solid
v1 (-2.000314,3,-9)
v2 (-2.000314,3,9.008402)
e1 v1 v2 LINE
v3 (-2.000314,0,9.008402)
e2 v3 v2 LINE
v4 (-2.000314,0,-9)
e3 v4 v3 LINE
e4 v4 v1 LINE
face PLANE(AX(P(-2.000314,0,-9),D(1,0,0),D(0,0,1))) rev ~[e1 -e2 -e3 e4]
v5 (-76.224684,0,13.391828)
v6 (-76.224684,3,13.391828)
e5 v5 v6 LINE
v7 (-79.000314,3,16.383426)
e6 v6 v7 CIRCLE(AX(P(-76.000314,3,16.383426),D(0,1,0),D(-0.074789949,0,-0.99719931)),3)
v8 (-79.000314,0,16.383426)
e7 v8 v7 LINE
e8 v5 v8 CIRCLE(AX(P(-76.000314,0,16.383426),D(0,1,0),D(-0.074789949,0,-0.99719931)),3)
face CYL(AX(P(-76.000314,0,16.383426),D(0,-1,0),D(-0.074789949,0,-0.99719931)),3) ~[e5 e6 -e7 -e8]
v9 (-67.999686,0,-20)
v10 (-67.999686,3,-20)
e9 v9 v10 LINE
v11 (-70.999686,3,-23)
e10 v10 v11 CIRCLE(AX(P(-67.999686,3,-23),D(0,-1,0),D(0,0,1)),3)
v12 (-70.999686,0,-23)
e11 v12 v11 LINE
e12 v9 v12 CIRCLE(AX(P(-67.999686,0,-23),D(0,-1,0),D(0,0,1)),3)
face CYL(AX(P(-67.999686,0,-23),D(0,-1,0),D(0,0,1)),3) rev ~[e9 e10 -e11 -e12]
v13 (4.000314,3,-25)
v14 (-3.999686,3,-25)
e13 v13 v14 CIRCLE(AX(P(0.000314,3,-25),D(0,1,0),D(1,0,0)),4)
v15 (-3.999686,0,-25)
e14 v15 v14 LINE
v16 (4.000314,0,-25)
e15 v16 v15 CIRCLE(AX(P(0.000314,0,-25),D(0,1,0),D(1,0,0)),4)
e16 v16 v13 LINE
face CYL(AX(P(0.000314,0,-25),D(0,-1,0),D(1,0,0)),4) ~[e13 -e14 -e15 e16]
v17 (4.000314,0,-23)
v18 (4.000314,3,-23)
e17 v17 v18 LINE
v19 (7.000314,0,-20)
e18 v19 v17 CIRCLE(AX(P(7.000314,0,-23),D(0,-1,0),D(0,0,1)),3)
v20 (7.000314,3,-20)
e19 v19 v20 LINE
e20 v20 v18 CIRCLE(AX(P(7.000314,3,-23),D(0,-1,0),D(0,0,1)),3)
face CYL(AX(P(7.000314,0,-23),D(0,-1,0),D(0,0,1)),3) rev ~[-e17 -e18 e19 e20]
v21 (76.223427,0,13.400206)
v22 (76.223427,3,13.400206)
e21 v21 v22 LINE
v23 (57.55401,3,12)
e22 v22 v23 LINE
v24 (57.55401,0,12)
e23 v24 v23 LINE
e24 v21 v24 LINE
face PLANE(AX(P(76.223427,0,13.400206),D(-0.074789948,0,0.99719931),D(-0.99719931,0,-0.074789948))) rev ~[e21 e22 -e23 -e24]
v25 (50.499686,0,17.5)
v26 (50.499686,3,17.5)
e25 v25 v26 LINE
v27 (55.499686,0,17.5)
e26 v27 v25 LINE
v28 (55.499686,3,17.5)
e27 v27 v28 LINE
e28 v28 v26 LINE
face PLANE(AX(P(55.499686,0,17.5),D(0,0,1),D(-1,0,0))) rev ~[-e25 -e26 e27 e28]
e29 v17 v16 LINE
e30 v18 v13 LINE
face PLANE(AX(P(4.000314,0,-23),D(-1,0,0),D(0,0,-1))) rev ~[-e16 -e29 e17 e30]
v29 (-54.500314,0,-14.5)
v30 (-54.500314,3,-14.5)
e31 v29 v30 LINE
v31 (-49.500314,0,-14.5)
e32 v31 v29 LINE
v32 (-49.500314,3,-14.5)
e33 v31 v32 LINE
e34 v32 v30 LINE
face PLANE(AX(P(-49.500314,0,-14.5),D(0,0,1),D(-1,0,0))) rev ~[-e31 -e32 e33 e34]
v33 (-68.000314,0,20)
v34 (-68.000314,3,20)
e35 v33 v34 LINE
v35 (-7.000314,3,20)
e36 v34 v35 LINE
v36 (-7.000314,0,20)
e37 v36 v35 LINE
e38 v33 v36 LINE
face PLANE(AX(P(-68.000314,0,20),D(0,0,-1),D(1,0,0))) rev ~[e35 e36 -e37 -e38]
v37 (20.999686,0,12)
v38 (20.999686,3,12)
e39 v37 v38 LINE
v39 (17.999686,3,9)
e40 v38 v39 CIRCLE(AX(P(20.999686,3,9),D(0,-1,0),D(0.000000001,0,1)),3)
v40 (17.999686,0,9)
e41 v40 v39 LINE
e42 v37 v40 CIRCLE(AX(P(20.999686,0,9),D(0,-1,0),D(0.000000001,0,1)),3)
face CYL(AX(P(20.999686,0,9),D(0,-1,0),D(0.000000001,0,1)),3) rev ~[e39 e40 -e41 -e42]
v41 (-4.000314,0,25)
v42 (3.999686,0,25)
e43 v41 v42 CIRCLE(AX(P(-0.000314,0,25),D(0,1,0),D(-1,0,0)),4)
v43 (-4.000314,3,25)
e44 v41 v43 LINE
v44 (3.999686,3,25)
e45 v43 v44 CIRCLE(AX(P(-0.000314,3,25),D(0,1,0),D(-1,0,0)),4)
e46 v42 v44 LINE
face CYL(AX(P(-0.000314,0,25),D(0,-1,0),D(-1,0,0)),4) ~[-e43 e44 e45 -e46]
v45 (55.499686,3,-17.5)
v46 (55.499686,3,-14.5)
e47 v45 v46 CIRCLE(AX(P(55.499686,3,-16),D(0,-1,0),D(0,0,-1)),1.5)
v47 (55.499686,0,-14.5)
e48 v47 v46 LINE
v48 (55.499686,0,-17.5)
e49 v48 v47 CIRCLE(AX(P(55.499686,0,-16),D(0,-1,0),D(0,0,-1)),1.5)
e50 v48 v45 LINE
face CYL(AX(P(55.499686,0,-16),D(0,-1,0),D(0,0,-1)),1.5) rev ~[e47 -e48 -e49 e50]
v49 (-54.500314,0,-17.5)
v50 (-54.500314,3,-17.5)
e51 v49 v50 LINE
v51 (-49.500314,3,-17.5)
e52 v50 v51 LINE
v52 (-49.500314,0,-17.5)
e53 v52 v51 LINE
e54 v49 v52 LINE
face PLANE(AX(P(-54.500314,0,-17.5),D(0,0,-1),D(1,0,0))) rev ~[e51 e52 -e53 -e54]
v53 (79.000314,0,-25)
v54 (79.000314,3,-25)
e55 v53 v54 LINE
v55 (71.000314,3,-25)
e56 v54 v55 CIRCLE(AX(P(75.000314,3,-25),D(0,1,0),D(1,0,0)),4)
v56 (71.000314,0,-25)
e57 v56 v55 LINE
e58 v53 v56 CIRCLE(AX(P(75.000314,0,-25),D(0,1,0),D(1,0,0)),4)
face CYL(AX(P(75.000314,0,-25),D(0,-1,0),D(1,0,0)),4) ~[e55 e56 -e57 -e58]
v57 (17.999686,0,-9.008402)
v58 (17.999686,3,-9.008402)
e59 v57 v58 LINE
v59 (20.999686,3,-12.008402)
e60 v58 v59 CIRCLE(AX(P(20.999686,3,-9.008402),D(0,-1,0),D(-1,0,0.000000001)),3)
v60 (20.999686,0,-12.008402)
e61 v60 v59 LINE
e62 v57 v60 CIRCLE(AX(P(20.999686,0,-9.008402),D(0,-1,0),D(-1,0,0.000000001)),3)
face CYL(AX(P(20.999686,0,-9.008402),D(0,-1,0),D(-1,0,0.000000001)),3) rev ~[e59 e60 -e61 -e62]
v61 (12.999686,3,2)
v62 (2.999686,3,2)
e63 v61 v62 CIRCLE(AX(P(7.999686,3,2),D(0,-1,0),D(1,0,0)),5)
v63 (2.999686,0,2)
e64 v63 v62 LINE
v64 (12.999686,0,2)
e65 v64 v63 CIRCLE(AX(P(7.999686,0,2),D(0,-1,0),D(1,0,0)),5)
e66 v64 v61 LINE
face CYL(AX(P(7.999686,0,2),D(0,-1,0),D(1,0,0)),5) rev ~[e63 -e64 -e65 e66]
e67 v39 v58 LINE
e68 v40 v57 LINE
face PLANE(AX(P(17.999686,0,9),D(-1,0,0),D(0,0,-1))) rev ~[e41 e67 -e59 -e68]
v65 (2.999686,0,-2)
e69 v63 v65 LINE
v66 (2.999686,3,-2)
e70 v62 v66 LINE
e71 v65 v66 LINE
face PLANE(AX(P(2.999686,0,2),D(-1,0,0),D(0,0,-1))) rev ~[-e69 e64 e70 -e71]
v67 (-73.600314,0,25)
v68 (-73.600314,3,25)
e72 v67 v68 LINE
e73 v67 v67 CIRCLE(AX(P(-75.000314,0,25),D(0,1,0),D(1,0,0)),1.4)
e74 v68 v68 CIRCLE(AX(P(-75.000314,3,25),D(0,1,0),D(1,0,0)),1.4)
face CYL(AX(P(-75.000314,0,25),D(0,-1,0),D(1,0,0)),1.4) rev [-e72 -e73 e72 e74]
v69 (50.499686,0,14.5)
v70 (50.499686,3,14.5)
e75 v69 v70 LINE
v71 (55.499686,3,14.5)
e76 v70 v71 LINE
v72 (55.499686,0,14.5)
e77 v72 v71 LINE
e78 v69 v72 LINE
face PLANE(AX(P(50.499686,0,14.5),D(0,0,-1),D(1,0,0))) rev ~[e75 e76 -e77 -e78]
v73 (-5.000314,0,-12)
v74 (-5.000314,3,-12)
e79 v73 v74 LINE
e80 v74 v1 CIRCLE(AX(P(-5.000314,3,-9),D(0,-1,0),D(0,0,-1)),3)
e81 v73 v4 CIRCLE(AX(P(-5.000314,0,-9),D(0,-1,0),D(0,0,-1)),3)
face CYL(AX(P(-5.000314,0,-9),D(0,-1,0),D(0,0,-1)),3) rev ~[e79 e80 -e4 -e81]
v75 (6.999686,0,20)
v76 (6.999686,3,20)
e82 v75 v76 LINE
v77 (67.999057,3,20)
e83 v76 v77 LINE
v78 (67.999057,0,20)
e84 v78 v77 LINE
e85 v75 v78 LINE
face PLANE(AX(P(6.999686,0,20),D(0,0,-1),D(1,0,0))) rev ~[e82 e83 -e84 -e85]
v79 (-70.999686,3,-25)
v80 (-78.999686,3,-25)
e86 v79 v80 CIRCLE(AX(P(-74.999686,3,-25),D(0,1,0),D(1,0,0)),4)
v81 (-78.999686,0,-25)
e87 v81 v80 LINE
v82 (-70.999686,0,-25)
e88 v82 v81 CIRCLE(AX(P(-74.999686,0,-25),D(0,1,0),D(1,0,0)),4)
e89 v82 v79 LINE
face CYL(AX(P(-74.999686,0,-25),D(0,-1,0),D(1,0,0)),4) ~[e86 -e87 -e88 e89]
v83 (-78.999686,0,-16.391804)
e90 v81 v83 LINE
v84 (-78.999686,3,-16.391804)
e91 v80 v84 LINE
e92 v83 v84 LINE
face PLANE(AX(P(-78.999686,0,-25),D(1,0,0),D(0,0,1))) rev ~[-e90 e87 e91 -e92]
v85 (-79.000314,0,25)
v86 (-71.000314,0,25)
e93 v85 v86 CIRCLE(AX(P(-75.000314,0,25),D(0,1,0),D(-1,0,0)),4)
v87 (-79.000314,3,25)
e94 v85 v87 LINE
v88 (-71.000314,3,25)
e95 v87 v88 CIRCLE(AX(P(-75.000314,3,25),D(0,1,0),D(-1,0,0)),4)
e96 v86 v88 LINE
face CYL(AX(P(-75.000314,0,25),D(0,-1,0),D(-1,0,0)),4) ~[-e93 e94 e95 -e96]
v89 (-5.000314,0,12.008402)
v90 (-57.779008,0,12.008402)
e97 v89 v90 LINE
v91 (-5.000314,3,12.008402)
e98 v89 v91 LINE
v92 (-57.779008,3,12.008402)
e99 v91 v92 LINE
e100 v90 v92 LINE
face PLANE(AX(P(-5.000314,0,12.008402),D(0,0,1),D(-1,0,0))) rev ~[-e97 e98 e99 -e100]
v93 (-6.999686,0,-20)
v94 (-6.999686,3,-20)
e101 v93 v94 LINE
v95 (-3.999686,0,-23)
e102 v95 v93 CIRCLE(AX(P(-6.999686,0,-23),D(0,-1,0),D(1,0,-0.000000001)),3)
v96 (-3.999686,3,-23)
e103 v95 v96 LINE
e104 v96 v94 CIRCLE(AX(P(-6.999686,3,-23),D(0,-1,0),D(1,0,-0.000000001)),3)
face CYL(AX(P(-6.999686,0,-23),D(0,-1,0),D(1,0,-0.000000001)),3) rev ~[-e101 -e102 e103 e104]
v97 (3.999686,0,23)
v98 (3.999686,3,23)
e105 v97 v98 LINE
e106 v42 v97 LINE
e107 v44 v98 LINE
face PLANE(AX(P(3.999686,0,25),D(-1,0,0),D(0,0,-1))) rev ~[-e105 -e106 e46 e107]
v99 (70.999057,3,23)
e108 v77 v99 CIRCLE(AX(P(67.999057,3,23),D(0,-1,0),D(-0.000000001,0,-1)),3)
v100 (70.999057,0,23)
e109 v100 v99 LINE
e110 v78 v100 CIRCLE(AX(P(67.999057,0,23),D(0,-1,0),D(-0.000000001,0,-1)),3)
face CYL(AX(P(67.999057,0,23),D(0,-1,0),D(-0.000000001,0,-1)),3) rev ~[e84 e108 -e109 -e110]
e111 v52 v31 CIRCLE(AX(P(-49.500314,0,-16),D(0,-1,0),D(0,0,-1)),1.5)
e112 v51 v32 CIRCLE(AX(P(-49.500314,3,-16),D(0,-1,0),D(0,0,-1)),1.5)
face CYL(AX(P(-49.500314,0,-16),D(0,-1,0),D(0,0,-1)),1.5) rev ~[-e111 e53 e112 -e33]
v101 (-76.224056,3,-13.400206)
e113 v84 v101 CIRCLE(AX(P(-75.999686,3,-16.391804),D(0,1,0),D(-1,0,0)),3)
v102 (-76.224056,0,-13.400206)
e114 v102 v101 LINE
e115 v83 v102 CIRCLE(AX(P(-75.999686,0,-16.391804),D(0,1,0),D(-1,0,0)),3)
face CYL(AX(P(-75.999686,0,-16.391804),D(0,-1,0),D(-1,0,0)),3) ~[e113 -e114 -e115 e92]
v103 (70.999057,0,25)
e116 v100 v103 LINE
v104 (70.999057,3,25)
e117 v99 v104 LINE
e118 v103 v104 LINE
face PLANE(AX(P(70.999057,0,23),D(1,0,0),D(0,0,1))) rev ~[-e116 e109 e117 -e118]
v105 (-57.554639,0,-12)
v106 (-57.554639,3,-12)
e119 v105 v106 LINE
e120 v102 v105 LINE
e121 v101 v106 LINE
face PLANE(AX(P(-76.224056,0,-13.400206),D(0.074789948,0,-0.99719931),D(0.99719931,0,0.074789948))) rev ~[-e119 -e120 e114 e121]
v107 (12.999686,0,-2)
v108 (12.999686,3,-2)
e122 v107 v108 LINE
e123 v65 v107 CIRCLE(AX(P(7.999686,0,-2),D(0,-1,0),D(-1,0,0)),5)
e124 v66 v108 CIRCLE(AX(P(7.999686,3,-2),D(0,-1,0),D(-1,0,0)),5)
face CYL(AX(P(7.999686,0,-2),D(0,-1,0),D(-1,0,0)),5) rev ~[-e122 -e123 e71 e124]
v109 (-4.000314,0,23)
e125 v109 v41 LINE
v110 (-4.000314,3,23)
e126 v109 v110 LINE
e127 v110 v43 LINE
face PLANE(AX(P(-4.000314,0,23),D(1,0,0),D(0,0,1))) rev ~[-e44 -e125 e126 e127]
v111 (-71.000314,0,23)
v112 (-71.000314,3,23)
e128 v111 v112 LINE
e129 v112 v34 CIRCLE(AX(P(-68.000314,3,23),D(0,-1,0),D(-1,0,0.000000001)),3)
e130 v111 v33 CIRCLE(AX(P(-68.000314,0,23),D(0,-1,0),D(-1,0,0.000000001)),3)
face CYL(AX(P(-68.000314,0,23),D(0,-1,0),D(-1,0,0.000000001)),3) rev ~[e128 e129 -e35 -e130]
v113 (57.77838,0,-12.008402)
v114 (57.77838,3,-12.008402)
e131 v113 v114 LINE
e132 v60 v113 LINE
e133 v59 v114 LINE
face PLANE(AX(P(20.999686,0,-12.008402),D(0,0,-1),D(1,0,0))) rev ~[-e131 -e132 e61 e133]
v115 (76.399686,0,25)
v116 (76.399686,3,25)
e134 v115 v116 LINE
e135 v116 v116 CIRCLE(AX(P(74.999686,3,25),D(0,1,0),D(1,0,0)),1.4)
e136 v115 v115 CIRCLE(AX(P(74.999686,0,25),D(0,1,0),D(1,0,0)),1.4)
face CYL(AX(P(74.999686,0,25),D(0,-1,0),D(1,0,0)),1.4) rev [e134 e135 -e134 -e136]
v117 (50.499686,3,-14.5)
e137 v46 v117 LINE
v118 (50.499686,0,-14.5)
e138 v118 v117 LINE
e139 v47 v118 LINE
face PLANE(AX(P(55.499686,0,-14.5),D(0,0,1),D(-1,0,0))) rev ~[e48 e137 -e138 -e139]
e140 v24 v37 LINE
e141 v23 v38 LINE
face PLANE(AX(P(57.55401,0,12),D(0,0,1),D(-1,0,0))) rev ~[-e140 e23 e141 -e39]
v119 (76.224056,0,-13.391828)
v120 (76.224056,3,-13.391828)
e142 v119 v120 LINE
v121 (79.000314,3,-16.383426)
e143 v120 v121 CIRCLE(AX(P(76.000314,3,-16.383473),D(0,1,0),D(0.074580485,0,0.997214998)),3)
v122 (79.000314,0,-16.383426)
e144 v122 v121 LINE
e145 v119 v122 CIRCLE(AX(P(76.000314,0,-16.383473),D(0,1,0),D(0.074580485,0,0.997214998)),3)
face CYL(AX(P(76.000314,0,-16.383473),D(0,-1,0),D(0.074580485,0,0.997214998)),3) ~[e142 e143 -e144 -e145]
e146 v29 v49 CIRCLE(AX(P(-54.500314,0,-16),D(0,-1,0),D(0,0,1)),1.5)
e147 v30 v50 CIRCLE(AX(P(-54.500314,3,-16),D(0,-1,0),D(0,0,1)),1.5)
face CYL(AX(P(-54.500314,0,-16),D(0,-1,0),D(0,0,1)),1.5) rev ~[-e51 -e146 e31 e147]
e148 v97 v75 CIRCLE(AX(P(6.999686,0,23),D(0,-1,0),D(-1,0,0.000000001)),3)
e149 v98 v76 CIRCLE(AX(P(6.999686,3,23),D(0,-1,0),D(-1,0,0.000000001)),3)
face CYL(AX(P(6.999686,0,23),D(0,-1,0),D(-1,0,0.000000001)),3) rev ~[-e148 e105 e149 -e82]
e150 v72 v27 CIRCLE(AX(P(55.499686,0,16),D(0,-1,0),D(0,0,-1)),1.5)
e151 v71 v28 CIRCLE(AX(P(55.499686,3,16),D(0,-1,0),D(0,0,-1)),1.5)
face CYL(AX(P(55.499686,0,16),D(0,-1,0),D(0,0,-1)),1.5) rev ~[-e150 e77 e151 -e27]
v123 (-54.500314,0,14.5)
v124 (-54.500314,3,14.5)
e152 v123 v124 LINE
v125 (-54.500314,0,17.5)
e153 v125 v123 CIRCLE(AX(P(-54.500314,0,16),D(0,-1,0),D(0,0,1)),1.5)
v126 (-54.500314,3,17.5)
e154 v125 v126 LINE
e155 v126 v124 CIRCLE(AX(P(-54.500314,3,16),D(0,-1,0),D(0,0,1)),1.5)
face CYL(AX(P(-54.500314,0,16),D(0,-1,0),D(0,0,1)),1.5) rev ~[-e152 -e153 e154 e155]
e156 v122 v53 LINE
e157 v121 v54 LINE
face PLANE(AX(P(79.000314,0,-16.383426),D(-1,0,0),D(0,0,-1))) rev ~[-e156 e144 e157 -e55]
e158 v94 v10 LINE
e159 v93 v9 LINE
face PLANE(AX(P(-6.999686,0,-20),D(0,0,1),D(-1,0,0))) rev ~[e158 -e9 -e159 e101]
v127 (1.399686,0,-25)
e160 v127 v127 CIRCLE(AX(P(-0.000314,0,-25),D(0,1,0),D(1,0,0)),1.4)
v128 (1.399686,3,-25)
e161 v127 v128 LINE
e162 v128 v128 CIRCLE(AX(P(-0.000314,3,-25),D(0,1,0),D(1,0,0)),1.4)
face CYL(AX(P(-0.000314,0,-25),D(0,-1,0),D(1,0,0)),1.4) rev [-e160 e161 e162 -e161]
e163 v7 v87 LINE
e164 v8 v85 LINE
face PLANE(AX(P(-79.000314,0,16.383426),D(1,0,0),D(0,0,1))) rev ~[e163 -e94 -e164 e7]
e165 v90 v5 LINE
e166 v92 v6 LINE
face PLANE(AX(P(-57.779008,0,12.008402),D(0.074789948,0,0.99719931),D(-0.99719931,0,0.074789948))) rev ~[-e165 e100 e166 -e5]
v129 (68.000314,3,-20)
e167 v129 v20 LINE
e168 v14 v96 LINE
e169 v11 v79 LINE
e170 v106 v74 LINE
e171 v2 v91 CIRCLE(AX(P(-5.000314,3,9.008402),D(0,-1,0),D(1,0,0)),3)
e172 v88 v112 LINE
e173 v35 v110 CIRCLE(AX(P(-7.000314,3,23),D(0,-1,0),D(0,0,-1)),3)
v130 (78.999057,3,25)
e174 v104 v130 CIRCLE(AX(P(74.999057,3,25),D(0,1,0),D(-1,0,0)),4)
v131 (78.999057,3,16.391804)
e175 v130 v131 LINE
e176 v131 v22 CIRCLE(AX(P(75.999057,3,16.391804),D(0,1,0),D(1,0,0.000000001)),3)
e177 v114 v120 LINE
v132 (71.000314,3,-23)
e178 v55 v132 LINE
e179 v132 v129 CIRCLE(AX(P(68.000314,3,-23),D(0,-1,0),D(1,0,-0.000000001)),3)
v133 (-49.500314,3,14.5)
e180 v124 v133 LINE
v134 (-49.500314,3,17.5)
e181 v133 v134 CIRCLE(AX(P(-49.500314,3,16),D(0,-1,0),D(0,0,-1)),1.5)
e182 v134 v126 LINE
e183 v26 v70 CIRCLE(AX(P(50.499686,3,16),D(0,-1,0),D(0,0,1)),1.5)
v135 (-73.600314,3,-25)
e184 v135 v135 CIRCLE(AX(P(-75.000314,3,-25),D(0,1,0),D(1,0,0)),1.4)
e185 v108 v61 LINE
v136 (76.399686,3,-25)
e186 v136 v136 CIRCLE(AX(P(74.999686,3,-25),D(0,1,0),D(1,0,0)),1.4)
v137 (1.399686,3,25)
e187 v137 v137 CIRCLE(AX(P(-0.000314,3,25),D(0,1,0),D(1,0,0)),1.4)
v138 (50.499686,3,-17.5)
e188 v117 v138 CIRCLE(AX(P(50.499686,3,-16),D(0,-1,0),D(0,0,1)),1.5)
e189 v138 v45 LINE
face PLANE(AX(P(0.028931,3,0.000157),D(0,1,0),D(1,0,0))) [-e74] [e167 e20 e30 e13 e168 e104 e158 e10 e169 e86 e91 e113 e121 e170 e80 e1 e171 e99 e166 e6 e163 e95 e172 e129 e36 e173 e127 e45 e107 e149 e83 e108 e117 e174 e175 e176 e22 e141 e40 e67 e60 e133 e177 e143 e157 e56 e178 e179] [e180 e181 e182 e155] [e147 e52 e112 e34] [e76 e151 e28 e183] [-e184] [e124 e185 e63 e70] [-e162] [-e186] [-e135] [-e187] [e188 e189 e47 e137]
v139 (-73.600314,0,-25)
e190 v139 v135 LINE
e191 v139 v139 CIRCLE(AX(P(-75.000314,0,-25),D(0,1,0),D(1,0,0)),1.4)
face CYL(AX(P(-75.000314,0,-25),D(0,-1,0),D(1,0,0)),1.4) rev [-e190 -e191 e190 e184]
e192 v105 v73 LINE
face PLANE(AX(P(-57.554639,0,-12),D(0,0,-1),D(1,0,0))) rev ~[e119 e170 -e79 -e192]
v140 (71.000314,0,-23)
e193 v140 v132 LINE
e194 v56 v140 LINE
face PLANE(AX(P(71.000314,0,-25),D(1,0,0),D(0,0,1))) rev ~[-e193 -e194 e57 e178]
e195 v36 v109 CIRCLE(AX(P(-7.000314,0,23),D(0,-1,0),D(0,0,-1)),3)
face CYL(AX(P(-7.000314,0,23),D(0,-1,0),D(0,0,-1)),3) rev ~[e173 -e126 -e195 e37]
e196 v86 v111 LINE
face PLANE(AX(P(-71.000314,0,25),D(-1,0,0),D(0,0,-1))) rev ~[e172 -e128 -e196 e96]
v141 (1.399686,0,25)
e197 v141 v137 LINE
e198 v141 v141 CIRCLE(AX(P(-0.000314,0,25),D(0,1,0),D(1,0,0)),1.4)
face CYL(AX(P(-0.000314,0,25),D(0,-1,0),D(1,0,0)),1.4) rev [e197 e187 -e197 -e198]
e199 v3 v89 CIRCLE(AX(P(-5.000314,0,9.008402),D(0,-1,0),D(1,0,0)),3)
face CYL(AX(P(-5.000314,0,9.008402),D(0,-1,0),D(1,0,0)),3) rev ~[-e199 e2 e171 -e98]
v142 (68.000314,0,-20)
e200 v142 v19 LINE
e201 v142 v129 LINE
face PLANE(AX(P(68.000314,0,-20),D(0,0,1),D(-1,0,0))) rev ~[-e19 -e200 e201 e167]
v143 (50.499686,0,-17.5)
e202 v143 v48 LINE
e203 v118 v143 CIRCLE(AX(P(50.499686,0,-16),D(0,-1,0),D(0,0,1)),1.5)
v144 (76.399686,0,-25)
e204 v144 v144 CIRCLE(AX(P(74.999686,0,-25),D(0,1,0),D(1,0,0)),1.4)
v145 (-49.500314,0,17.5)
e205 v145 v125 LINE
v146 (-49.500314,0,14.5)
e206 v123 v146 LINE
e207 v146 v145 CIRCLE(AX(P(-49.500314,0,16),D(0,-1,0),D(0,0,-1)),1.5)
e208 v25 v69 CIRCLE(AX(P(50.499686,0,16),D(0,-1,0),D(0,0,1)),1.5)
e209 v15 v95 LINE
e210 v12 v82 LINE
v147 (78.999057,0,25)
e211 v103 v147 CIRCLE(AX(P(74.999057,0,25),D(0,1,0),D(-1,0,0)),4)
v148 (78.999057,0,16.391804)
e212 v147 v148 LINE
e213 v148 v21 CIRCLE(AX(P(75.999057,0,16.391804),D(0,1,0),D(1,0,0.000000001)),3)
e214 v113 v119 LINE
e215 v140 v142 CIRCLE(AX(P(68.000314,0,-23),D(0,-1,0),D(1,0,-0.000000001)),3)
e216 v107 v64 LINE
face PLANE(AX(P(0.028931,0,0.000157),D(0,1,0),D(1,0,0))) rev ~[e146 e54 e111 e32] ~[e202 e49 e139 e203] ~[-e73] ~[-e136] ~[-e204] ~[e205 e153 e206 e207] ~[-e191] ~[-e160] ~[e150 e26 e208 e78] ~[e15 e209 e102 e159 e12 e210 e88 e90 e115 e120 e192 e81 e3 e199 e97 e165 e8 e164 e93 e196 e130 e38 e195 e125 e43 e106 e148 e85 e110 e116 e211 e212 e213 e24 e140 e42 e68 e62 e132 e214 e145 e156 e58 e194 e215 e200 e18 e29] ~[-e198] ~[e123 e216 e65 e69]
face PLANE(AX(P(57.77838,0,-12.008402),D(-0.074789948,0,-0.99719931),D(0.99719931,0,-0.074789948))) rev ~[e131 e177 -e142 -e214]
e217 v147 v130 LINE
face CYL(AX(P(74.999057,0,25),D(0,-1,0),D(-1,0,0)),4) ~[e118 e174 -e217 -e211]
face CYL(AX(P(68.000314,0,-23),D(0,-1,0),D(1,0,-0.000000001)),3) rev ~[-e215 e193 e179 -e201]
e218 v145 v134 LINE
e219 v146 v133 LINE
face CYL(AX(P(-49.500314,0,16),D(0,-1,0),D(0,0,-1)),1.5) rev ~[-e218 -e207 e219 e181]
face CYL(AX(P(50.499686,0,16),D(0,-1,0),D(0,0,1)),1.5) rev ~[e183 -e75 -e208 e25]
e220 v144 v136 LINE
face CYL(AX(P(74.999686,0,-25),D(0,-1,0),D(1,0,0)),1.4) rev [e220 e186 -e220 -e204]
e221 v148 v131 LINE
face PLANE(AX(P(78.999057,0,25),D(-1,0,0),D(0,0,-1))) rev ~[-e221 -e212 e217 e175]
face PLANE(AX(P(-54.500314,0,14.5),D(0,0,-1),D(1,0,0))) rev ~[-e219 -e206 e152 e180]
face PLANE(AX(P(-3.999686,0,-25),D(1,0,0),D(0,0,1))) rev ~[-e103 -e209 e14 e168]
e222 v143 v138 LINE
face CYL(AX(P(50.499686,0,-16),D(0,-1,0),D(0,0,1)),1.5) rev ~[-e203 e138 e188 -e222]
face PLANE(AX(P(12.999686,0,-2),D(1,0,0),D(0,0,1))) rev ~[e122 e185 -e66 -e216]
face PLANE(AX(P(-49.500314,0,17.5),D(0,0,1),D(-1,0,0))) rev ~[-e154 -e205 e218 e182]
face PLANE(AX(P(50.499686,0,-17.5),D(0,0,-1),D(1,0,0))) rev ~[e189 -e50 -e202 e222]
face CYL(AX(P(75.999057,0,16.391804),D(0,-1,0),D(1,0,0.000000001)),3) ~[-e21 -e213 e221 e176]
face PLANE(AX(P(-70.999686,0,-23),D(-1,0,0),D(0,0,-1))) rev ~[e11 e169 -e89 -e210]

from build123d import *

# Parameters (mm, degrees)
SKETCH1_R           = 1.4
BOSS_EXTRUDE1_DEPTH = 3


with BuildPart() as part:
    # Sketch1 → Boss-Extrude1 (new body)
    with BuildSketch(Plane(origin=(0, 0, 0), x_dir=(1, 0, 0), z_dir=(0, 1, 0))):
        with BuildLine():
            Line((-76.22405565, 13.400206277), (-57.554638622, 12))
            Line((-57.554638622, 12), (-5.000314195, 12))
            ThreePointArc((-5.000314195, 12), (-2.878993852, 11.121320344), (-2.000314195, 9))
            Line((-2.000314195, 9), (-2.000314195, -9.00840207))
            ThreePointArc((-2.000314195, -9.00840207), (-2.878993852, -11.129722414), (-5.000314195, -12.00840207))
            Line((-5.000314195, -12.00840207), (-57.779008466, -12.00840207))
            Line((-57.779008466, -12.00840207), (-76.22468404, -13.391827738))
            ThreePointArc((-76.22468404, -13.391827738), (-78.199531048, -14.342973455), (-79.000314195, -16.383425668))
            Line((-79.000314195, -16.383425668), (-79.000314195, -25))
            ThreePointArc((-79.000314195, -25), (-75.000314195, -29), (-71.000314195, -25))
            Line((-71.000314195, -25), (-71.000314195, -23))
            ThreePointArc((-71.000314195, -23), (-70.121634539, -20.878679656), (-68.000314195, -20))
            Line((-68.000314195, -20), (-7.000314195, -20))
            ThreePointArc((-7.000314195, -20), (-4.878993852, -20.878679656), (-4.000314195, -23))
            Line((-4.000314195, -23), (-4.000314195, -25))
            ThreePointArc((-4.000314195, -25), (-0.000314195, -29), (3.999685805, -25))
            Line((3.999685805, -25), (3.999685805, -23))
            ThreePointArc((3.999685805, -23), (4.878365461, -20.878679656), (6.999685805, -20))
            Line((6.999685805, -20), (67.999057414, -20))
            ThreePointArc((67.999057414, -20), (70.120377758, -20.878679656), (70.999057414, -23))
            Line((70.999057414, -23), (70.999057414, -25))
            ThreePointArc((70.999057414, -25), (74.999057414, -29), (78.999057414, -25))
            Line((78.999057414, -25), (78.999057414, -16.391804207))
            ThreePointArc((78.999057414, -16.391804207), (78.198274268, -14.351351994), (76.223427259, -13.400206277))
            Line((76.223427259, -13.400206277), (57.554010231, -12))
            Line((57.554010231, -12), (20.999685805, -12))
            ThreePointArc((20.999685805, -12), (18.878365461, -11.121320344), (17.999685805, -9))
            Line((17.999685805, -9), (17.999685805, 9.00840207))
            ThreePointArc((17.999685805, 9.00840207), (18.878365461, 11.129722414), (20.999685805, 12.00840207))
            Line((20.999685805, 12.00840207), (57.778380076, 12.00840207))
            Line((57.778380076, 12.00840207), (76.22405565, 13.391827738))
            ThreePointArc((76.22405565, 13.391827738), (78.199300731, 14.342772308), (79.000314195, 16.383425668))
            Line((79.000314195, 16.383425668), (79.000314195, 25))
            ThreePointArc((79.000314195, 25), (75.000314195, 29), (71.000314195, 25))
            Line((71.000314195, 25), (71.000314195, 23))
            ThreePointArc((71.000314195, 23), (70.121634539, 20.878679656), (68.000314195, 20))
            Line((68.000314195, 20), (7.000314195, 20))
            ThreePointArc((7.000314195, 20), (4.878993852, 20.878679656), (4.000314195, 23))
            Line((4.000314195, 23), (4.000314195, 25))
            ThreePointArc((4.000314195, 25), (0.000314195, 29), (-3.999685805, 25))
            Line((-3.999685805, 25), (-3.999685805, 23))
            ThreePointArc((-3.999685805, 23), (-4.878365461, 20.878679656), (-6.999685805, 20))
            Line((-6.999685805, 20), (-67.999685805, 20))
            ThreePointArc((-67.999685805, 20), (-70.121006148, 20.878679656), (-70.999685805, 23))
            Line((-70.999685805, 23), (-70.999685805, 25))
            ThreePointArc((-70.999685805, 25), (-74.999685805, 29), (-78.999685805, 25))
            Line((-78.999685805, 25), (-78.999685805, 16.391804207))
            ThreePointArc((-78.999685805, 16.391804207), (-78.198902658, 14.351351994), (-76.22405565, 13.400206277))
        make_face()
        with Locations((74.999685805, 25)):
            Circle(SKETCH1_R, mode=Mode.SUBTRACT)
        with Locations((74.999685805, -25)):
            Circle(SKETCH1_R, mode=Mode.SUBTRACT)
        with Locations((-0.000314195, -25)):
            Circle(SKETCH1_R, mode=Mode.SUBTRACT)
        with Locations((-0.000314195, 25)):
            Circle(SKETCH1_R, mode=Mode.SUBTRACT)
        with Locations((-75.000314195, 25)):
            Circle(SKETCH1_R, mode=Mode.SUBTRACT)
        with Locations((-75.000314195, -25)):
            Circle(SKETCH1_R, mode=Mode.SUBTRACT)
        with BuildLine():
            Line((55.499685805, -17.5), (50.499685805, -17.5))
            ThreePointArc((50.499685805, -17.5), (48.999685805, -16), (50.499685805, -14.5))
            Line((50.499685805, -14.5), (55.499685805, -14.5))
            ThreePointArc((55.499685805, -14.5), (56.999685805, -16), (55.499685805, -17.5))
        make_face(mode=Mode.SUBTRACT)
        with BuildLine():
            Line((50.499685805, 17.5), (55.499685805, 17.5))
            ThreePointArc((55.499685805, 17.5), (56.999685805, 16), (55.499685805, 14.5))
            Line((55.499685805, 14.5), (50.499685805, 14.5))
            ThreePointArc((50.499685805, 14.5), (48.999685805, 16), (50.499685805, 17.5))
        make_face(mode=Mode.SUBTRACT)
        with BuildLine():
            Line((12.999685805, 2), (12.999685805, -2))
            ThreePointArc((12.999685805, -2), (7.999685805, -7), (2.999685805, -2))
            Line((2.999685805, -2), (2.999685805, 2))
            ThreePointArc((2.999685805, 2), (7.999685805, 7), (12.999685805, 2))
        make_face(mode=Mode.SUBTRACT)
        with BuildLine():
            Line((-49.500314195, -17.5), (-54.500314195, -17.5))
            ThreePointArc((-54.500314195, -17.5), (-56.000314195, -16), (-54.500314195, -14.5))
            Line((-54.500314195, -14.5), (-49.500314195, -14.5))
            ThreePointArc((-49.500314195, -14.5), (-48.000314195, -16), (-49.500314195, -17.5))
        make_face(mode=Mode.SUBTRACT)
        with BuildLine():
            Line((-54.500314195, 17.5), (-49.500314195, 17.5))
            ThreePointArc((-49.500314195, 17.5), (-48.000314195, 16), (-49.500314195, 14.5))
            Line((-49.500314195, 14.5), (-54.500314195, 14.5))
            ThreePointArc((-54.500314195, 14.5), (-56.000314195, 16), (-54.500314195, 17.5))
        make_face(mode=Mode.SUBTRACT)
    extrude(amount=BOSS_EXTRUDE1_DEPTH)


solid = part.part
